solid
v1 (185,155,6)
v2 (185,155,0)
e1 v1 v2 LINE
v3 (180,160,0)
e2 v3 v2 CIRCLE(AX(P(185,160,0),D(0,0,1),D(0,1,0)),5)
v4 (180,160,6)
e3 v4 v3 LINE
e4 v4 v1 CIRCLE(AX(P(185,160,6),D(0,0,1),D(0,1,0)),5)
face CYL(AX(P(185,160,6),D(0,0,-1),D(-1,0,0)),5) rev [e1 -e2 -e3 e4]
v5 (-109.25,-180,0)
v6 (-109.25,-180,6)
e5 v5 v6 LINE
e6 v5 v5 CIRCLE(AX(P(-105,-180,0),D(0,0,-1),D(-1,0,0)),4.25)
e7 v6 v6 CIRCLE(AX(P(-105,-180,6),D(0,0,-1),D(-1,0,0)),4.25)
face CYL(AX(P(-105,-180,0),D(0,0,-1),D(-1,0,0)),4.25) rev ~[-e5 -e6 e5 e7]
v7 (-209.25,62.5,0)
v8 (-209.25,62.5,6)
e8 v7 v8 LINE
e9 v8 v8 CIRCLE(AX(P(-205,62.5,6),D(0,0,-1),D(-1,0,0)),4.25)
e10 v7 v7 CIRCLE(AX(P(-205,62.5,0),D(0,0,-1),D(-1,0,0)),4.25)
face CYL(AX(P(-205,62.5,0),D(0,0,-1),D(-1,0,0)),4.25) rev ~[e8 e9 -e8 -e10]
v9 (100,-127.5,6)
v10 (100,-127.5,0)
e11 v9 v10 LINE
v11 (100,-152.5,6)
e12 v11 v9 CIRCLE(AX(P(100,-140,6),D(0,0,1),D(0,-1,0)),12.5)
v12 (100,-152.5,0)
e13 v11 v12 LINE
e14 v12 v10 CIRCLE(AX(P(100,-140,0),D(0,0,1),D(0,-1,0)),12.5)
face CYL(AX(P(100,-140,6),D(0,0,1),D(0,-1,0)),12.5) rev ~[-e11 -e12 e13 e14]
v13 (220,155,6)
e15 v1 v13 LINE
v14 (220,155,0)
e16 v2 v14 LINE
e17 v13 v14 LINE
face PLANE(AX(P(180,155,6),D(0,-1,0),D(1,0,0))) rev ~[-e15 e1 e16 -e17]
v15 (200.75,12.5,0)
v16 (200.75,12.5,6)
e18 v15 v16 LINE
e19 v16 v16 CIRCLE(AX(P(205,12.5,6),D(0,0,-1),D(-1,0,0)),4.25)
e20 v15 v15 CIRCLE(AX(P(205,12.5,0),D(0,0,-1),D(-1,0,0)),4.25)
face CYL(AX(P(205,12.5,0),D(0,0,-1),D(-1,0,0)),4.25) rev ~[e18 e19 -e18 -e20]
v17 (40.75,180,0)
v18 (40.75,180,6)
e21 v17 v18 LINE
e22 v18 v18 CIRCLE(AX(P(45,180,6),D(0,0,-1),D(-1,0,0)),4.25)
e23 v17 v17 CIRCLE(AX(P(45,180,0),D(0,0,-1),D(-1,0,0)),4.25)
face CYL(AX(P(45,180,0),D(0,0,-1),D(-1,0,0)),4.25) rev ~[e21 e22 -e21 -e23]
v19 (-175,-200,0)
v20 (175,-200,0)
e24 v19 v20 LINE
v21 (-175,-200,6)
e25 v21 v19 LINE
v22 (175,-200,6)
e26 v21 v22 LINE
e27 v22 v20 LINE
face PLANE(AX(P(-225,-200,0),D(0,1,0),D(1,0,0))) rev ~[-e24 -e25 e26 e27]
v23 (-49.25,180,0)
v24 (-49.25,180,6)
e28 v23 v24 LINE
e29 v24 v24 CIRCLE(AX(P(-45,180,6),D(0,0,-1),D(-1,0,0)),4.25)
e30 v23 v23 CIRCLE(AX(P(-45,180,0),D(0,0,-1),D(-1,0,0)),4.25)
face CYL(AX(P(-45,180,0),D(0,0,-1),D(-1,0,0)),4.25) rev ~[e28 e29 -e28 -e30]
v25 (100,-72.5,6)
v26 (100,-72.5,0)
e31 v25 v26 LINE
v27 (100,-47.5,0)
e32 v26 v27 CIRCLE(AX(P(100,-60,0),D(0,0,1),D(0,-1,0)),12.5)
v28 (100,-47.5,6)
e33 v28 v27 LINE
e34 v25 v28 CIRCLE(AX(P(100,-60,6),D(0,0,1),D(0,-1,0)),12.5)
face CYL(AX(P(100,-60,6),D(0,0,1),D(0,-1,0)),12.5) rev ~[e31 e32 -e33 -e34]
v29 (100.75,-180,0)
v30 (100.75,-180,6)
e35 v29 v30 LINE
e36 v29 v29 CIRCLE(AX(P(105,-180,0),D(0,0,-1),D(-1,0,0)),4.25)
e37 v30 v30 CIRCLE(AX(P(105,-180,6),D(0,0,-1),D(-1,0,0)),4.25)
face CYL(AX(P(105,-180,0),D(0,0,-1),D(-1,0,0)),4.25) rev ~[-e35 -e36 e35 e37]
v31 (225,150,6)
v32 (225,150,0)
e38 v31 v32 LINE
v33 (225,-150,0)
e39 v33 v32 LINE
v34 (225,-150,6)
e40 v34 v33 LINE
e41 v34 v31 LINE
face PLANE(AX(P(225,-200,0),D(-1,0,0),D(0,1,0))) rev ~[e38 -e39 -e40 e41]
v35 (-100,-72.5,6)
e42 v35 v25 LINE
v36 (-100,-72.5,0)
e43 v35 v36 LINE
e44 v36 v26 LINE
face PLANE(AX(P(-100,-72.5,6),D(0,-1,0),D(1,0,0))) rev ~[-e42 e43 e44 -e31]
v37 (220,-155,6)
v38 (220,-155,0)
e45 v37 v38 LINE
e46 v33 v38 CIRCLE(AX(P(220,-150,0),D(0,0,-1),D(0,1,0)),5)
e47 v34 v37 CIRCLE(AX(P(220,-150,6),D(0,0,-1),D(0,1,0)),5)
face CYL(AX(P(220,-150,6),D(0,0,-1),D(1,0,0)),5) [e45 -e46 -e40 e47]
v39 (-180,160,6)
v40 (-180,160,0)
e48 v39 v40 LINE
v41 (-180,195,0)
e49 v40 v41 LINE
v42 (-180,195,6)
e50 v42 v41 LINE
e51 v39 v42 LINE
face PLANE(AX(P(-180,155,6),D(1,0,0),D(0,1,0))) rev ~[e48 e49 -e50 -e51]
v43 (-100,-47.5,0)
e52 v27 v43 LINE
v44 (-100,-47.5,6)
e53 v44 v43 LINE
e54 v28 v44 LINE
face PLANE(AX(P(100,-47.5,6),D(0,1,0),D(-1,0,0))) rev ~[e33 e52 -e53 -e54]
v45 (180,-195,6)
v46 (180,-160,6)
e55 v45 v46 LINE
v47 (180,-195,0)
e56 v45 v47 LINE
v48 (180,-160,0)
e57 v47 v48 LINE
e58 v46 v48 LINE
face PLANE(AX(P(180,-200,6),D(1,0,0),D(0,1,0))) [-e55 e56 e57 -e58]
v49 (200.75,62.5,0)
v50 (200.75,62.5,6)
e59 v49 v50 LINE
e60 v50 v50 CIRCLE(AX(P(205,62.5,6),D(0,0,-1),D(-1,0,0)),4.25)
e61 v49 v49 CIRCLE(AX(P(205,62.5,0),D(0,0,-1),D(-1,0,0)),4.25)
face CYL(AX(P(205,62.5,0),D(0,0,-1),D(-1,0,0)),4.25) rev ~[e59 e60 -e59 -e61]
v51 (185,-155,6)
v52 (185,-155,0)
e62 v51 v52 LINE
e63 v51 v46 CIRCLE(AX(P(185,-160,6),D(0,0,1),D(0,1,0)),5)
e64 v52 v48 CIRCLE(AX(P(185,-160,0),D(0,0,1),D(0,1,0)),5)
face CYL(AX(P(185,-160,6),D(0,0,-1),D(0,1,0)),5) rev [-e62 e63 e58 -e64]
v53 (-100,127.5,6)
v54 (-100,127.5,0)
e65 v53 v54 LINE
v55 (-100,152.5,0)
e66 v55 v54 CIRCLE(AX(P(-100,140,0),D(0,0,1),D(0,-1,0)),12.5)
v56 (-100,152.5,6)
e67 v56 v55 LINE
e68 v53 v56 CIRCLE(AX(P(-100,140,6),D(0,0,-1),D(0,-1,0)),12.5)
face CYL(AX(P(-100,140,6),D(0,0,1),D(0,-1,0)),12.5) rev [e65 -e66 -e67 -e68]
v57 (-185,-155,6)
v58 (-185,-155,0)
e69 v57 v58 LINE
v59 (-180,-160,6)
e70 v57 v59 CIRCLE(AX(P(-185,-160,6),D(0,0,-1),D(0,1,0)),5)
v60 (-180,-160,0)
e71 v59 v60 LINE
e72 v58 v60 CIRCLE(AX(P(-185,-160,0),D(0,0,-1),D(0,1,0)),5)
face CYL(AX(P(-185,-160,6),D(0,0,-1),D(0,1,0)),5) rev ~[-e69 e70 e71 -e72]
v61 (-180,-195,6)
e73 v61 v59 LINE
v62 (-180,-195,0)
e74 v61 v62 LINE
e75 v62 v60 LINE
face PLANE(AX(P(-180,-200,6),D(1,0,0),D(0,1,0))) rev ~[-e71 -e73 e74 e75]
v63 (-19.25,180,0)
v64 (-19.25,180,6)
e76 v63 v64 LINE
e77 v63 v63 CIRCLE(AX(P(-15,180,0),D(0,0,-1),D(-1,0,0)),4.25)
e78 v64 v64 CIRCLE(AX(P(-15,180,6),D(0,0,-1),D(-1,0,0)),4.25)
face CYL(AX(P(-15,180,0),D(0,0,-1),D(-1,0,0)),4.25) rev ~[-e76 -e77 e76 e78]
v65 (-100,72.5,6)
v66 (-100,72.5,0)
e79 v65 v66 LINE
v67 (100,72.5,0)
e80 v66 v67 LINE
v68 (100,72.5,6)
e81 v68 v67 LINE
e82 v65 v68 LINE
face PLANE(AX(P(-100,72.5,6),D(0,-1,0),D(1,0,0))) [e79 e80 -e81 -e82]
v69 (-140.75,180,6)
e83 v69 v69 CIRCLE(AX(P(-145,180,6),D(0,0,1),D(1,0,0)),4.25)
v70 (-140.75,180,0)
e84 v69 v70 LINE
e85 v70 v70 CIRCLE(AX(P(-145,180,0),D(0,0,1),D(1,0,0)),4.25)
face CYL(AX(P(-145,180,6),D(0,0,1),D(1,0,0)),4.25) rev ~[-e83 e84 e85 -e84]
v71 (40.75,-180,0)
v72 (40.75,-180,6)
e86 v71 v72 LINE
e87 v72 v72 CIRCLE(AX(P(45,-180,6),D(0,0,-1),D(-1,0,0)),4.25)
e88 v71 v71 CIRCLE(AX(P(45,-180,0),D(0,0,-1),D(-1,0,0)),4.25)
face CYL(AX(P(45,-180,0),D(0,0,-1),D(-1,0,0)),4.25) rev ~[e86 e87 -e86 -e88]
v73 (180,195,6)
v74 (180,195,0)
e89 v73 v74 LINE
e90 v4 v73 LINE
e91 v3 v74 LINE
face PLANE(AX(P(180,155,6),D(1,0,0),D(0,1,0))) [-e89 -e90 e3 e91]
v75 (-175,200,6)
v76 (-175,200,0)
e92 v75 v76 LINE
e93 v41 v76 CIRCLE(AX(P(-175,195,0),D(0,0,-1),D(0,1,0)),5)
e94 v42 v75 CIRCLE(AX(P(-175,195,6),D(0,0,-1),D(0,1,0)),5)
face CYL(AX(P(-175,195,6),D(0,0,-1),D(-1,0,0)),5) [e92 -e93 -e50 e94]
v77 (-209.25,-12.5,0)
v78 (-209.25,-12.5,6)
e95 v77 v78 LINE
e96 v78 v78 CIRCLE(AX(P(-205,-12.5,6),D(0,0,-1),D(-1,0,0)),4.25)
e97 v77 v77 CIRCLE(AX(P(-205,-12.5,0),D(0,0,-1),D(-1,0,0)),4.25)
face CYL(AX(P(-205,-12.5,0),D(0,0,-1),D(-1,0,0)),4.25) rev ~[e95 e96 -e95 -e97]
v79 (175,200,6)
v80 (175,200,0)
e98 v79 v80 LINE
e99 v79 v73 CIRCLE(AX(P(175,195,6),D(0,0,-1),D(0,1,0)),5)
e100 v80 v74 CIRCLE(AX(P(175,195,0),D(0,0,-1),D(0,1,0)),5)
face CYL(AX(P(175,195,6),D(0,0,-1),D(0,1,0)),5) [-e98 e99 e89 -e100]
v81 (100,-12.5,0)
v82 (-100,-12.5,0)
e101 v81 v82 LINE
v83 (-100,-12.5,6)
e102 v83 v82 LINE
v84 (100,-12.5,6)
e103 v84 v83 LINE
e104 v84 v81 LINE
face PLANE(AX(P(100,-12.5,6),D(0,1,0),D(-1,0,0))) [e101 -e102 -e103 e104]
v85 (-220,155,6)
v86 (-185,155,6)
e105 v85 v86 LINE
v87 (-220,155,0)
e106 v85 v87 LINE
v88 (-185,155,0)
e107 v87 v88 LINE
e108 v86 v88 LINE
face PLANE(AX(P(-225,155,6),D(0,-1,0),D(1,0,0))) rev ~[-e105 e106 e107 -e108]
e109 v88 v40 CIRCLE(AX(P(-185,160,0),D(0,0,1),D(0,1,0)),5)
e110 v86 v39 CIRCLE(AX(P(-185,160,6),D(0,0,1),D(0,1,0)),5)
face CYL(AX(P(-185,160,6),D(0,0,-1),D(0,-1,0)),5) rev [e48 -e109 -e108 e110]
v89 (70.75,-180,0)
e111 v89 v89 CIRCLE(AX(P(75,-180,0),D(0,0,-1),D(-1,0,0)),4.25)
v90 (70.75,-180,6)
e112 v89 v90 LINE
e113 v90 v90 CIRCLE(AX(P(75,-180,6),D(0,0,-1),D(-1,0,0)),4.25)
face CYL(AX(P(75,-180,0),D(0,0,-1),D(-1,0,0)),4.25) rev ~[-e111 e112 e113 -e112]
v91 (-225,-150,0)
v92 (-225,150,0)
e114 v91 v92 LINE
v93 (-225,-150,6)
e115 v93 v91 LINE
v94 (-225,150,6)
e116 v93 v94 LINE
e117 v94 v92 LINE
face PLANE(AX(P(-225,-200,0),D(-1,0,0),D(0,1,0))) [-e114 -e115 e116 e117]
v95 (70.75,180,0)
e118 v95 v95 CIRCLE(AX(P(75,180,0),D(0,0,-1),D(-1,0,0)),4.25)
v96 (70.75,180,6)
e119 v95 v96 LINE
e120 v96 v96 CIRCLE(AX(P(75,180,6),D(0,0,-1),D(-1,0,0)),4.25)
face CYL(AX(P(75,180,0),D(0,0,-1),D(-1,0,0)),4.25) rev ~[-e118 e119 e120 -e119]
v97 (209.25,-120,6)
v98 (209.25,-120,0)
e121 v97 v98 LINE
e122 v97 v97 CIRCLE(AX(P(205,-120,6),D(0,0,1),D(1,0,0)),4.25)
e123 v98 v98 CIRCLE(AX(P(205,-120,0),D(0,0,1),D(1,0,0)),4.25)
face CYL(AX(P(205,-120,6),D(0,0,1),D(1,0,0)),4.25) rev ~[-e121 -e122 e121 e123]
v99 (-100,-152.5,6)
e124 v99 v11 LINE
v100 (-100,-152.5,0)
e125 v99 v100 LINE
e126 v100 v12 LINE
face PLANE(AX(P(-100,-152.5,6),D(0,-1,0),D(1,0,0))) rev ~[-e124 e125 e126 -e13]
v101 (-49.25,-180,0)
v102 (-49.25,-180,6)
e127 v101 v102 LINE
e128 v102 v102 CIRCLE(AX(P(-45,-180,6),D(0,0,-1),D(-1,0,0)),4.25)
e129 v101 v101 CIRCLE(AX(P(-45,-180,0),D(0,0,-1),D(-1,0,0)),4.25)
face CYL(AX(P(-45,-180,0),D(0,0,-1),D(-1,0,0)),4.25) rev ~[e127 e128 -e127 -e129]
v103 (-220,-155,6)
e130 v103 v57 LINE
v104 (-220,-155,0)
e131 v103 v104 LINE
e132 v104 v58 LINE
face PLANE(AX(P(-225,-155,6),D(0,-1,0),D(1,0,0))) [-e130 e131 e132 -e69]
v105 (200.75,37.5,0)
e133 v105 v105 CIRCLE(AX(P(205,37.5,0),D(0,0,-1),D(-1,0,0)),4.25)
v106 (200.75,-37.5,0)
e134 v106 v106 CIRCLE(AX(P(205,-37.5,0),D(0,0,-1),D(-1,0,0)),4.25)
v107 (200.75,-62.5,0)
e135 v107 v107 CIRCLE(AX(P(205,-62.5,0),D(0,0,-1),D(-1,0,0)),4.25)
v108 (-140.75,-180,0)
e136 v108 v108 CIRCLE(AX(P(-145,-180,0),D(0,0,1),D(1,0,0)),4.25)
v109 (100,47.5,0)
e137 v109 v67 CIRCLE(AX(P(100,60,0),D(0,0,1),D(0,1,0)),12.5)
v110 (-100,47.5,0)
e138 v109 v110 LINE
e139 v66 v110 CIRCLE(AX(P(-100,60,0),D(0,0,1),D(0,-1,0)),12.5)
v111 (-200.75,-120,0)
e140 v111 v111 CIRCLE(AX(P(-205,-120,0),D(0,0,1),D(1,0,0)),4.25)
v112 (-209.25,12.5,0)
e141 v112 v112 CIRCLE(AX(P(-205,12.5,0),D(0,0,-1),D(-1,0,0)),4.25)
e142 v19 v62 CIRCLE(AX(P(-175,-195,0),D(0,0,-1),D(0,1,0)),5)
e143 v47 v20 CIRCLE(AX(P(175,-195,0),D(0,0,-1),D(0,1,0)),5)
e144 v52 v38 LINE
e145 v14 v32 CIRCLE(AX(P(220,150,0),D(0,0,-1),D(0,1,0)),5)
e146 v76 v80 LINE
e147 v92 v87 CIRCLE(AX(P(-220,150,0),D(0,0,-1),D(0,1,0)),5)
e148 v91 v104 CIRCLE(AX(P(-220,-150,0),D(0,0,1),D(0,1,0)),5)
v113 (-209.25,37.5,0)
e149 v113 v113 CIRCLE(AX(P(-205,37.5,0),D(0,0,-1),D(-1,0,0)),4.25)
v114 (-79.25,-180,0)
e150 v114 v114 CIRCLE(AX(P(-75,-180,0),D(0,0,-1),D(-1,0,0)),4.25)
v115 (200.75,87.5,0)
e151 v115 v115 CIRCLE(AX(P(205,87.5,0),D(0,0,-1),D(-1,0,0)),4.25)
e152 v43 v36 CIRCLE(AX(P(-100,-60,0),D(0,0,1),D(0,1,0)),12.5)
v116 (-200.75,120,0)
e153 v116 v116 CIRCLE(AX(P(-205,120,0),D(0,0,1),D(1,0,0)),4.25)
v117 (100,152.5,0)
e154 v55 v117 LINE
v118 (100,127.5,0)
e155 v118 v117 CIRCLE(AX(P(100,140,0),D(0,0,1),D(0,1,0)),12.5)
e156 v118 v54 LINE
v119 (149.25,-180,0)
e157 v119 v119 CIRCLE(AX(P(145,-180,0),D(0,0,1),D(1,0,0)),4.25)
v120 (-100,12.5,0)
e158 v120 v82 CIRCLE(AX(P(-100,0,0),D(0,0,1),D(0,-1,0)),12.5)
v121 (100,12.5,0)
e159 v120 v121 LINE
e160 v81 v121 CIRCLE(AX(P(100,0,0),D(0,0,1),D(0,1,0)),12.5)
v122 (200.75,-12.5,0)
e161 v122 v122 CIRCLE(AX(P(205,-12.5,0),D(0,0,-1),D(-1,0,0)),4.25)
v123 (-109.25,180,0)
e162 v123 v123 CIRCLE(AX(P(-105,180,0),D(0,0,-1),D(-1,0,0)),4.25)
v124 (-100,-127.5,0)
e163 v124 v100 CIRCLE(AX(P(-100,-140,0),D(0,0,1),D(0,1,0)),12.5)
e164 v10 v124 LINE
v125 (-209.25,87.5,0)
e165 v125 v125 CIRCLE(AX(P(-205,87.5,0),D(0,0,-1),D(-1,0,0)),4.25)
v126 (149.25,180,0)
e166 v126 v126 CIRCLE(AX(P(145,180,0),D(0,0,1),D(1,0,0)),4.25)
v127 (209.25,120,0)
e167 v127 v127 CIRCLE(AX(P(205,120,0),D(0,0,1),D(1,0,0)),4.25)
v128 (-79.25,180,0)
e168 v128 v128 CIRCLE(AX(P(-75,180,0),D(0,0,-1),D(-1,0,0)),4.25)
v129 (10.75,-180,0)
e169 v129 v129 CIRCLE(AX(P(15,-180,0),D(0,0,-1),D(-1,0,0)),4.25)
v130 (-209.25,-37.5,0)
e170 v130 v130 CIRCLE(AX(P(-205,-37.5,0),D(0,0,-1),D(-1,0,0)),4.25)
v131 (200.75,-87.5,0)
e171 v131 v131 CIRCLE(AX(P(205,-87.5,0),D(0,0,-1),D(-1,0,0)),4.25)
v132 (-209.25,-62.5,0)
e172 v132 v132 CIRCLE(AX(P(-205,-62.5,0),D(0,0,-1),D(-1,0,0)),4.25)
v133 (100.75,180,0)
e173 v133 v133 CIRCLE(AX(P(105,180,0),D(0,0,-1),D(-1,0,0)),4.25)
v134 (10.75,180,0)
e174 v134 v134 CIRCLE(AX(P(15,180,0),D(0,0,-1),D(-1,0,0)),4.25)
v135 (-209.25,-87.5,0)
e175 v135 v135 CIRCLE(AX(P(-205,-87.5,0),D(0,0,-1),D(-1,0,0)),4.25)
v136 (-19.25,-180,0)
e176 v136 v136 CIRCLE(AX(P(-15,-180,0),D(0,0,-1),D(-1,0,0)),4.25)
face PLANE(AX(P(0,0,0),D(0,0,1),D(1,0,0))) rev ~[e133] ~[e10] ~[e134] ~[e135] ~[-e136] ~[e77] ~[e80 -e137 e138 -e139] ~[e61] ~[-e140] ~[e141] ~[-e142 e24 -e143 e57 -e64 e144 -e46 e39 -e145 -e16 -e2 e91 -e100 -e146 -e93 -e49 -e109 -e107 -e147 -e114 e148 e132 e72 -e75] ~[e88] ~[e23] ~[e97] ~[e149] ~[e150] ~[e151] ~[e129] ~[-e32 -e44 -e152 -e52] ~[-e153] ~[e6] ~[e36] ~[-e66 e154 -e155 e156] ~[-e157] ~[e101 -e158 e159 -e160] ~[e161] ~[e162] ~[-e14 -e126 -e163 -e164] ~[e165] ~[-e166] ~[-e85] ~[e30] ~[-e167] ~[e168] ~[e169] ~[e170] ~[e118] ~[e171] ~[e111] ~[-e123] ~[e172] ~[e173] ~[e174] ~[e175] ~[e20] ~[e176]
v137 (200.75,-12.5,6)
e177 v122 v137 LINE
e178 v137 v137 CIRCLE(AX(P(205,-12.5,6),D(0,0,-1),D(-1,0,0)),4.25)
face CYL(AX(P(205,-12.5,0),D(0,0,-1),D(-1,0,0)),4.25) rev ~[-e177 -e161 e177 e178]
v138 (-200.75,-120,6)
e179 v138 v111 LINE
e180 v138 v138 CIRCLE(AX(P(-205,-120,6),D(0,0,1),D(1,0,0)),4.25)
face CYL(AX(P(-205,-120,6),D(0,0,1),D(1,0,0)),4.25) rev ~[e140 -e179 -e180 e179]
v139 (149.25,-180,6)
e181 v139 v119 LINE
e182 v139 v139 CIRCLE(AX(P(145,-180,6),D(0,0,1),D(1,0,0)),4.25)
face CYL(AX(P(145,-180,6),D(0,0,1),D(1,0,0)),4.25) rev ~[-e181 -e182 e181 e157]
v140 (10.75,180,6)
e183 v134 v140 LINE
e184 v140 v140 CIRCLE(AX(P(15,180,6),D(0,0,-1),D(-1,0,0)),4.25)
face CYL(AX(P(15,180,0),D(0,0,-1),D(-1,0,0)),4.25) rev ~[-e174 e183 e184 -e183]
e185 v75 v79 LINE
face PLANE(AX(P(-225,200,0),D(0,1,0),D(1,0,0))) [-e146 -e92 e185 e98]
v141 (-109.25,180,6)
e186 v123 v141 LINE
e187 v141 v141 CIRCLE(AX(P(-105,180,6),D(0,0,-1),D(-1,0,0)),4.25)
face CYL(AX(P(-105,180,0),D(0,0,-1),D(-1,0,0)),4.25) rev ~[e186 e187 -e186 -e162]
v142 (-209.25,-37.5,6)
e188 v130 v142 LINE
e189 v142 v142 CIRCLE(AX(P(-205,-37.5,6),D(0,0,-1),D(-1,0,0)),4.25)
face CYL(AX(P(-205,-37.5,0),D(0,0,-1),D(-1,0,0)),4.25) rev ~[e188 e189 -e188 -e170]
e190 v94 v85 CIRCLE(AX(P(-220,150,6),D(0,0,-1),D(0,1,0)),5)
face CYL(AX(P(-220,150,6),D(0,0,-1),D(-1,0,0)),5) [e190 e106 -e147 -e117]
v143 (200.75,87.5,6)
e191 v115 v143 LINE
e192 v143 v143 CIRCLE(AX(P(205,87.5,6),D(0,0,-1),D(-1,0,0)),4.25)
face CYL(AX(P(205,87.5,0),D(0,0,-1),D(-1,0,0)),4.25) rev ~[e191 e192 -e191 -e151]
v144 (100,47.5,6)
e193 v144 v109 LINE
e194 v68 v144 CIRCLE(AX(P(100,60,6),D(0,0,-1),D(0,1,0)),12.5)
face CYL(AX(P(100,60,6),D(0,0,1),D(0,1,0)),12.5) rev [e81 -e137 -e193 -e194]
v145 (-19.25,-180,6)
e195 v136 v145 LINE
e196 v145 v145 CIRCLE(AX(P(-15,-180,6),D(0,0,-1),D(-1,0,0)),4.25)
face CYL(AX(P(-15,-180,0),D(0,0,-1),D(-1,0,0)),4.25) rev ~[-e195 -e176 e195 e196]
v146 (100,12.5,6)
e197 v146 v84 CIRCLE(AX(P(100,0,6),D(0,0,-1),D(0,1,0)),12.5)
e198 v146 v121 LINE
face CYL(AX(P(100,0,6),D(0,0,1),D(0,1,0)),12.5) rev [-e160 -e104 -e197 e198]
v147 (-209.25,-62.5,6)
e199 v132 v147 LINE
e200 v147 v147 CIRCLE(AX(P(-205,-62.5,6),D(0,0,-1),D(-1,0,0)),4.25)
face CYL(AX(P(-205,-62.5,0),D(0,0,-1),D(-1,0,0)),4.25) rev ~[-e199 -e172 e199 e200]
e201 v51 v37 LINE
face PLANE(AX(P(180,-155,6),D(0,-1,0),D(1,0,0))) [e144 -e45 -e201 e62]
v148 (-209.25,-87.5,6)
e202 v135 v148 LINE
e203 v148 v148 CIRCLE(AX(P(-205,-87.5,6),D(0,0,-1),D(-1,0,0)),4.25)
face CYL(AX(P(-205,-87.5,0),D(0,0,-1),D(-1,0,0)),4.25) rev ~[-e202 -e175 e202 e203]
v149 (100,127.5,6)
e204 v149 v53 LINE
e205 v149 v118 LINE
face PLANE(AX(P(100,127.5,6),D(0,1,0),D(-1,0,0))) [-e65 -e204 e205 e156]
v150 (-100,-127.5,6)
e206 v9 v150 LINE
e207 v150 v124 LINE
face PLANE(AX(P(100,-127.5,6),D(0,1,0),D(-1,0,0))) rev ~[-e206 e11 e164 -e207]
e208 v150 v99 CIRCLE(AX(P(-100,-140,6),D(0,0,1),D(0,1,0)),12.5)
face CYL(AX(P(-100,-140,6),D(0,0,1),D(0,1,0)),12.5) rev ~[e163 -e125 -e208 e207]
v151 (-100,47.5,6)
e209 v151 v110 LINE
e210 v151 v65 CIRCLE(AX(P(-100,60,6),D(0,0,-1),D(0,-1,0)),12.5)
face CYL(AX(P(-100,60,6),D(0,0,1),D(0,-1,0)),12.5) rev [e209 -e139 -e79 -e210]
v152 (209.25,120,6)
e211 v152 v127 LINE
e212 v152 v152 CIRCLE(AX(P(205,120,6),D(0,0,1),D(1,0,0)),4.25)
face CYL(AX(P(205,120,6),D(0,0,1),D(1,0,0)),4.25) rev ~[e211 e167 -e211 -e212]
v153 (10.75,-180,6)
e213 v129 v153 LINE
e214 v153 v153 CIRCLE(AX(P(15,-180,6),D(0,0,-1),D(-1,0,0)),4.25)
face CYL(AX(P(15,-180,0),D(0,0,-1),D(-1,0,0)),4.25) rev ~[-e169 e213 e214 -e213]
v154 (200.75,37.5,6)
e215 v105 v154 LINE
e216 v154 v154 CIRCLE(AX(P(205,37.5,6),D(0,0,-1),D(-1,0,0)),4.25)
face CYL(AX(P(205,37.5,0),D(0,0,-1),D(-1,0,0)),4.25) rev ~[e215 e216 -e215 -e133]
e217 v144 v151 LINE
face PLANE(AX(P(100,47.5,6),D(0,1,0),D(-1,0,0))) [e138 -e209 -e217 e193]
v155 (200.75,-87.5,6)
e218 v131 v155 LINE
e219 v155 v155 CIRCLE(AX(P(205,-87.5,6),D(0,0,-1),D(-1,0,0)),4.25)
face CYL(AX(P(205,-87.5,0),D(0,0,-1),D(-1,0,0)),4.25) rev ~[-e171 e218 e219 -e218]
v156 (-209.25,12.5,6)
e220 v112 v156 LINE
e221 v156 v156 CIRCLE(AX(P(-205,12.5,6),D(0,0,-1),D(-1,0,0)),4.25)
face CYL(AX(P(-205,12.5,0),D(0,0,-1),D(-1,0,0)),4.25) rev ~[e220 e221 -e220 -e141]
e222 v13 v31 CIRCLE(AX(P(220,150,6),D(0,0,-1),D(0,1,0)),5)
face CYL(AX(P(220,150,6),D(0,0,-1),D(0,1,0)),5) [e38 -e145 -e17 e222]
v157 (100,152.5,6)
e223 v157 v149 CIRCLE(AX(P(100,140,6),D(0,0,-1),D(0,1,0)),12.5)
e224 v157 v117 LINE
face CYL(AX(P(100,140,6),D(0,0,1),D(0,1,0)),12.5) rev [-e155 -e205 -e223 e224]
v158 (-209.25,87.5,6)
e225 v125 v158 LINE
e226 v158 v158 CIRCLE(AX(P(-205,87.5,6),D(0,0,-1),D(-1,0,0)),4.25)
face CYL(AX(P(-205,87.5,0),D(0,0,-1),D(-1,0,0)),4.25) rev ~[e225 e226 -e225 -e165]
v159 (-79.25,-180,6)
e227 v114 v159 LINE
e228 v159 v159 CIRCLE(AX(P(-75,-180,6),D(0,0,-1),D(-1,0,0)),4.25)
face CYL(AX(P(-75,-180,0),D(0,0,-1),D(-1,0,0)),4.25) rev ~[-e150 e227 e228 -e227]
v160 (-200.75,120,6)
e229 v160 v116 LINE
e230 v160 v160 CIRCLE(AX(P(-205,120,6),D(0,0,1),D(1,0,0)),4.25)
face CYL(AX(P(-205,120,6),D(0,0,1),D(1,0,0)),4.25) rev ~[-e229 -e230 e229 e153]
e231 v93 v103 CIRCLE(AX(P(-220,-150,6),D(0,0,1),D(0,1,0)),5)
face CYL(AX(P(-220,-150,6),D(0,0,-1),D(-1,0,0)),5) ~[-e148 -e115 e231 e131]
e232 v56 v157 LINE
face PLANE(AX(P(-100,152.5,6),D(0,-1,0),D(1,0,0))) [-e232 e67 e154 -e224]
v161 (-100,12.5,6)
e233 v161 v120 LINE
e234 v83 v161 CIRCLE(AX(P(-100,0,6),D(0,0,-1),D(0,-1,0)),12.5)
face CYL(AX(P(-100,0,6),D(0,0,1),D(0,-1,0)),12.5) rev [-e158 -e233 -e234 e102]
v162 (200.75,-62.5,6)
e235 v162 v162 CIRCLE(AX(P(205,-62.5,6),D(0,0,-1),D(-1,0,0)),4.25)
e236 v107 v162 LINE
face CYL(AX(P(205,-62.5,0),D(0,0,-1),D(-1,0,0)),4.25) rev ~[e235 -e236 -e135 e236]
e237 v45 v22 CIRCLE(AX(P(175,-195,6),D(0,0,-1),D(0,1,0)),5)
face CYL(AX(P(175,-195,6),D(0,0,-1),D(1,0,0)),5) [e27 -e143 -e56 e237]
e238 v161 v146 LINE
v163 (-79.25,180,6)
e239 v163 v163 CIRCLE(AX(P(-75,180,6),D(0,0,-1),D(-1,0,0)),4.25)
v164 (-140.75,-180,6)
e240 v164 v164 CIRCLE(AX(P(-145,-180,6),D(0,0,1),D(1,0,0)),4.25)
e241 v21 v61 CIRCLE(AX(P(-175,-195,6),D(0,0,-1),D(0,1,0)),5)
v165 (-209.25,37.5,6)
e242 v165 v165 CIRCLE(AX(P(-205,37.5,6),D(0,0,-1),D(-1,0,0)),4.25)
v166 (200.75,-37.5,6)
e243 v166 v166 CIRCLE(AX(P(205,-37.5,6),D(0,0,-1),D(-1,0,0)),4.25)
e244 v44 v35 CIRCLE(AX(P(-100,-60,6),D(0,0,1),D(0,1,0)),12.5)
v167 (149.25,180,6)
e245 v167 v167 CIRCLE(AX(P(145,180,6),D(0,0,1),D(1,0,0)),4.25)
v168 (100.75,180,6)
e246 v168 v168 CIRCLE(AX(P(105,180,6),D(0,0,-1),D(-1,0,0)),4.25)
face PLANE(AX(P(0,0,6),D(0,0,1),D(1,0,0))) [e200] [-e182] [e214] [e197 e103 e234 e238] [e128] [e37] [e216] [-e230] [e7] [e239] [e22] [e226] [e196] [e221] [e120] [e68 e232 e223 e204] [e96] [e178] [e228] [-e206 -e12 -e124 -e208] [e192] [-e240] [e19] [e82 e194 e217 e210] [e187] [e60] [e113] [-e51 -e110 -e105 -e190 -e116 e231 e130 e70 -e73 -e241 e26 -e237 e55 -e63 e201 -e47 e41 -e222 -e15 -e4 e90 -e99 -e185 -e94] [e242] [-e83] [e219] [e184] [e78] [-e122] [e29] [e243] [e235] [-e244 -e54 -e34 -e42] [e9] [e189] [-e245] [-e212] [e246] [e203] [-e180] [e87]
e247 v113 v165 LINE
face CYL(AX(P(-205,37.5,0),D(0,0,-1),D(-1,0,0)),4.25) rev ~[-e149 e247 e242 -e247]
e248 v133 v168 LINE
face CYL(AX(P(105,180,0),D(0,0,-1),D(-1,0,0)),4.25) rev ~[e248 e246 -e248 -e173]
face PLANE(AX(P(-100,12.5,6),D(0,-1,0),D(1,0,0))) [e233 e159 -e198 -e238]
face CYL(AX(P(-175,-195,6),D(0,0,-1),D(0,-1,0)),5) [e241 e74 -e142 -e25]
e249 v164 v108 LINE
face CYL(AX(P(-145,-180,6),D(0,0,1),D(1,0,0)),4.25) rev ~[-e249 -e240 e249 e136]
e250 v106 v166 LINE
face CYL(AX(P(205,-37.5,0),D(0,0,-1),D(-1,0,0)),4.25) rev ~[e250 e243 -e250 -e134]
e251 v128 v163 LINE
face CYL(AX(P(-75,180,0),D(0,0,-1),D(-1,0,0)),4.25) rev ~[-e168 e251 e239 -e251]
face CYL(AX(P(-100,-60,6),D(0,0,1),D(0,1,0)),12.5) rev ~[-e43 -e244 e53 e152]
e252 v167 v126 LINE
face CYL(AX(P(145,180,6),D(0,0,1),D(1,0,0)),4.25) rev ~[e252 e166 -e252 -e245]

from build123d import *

# Parameters (mm, degrees)
SKETCH_1_W          = 450
SKETCH_1_H          = 400
EXTRUDE_1_DEPTH     = 6
SKETCH_3_R          = 3.75
SKETCH_3_R_2        = 4.25
CUT_EXTRUDE_2_DEPTH = 50
CUT_EXTRUDE_3_DEPTH = 50
SKETCH_5_W          = 45
SKETCH_5_H          = 45
CUT_EXTRUDE_4_DEPTH = 56
FILLET_1_R          = 5
SKETCH_6_R          = 4.25
CUT_EXTRUDE_5_DEPTH = 90


with BuildPart() as part:
    # 草图1 → 凸台-拉伸1 (new body)
    with BuildSketch(Plane.XY):
        Rectangle(SKETCH_1_W, SKETCH_1_H)
    extrude(amount=EXTRUDE_1_DEPTH)

    # 草图3 → 切除-拉伸2 (cut)
    with BuildSketch(Plane.XY.offset(6)):
        with Locations((205, -180)):
            Circle(SKETCH_3_R)
        with Locations((205, -120)):
            Circle(SKETCH_3_R_2)
        with Locations((145, -180)):
            Circle(SKETCH_3_R_2)
        with Locations((145, 180)):
            Circle(SKETCH_3_R_2)
        with Locations((205, 120)):
            Circle(SKETCH_3_R_2)
        with Locations((205, 180)):
            Circle(SKETCH_3_R)
        with Locations((-205, 180)):
            Circle(SKETCH_3_R)
        with Locations((-205, 120)):
            Circle(SKETCH_3_R_2)
        with Locations((-145, 180)):
            Circle(SKETCH_3_R_2)
        with Locations((-145, -180)):
            Circle(SKETCH_3_R_2)
        with Locations((-205, -120)):
            Circle(SKETCH_3_R_2)
        with Locations((-205, -180)):
            Circle(SKETCH_3_R)
    extrude(amount=-CUT_EXTRUDE_2_DEPTH, mode=Mode.SUBTRACT)

    # 草图4 → 切除-拉伸3 (cut)
    with BuildSketch(Plane.XY.offset(6)):
        with BuildLine():
            Line((100, -12.5), (-100, -12.5))
            ThreePointArc((-100, -12.5), (-112.5, 0), (-100, 12.5))
            Line((-100, 12.5), (100, 12.5))
            ThreePointArc((100, 12.5), (112.5, 0), (100, -12.5))
        make_face()
        with BuildLine():
            Line((100, 47.5), (-100, 47.5))
            ThreePointArc((-100, 47.5), (-112.5, 60), (-100, 72.5))
            Line((-100, 72.5), (100, 72.5))
            ThreePointArc((100, 72.5), (112.5, 60), (100, 47.5))
        make_face()
        with BuildLine():
            Line((100, -47.5), (-100, -47.5))
            ThreePointArc((-100, -47.5), (-112.5, -60), (-100, -72.5))
            Line((-100, -72.5), (100, -72.5))
            ThreePointArc((100, -72.5), (112.5, -60), (100, -47.5))
        make_face()
        with BuildLine():
            Line((100, 127.5), (-100, 127.5))
            ThreePointArc((-100, 127.5), (-112.5, 140), (-100, 152.5))
            Line((-100, 152.5), (100, 152.5))
            ThreePointArc((100, 152.5), (112.5, 140), (100, 127.5))
        make_face()
        with BuildLine():
            Line((100, -127.5), (-100, -127.5))
            ThreePointArc((-100, -127.5), (-112.5, -140), (-100, -152.5))
            Line((-100, -152.5), (100, -152.5))
            ThreePointArc((100, -152.5), (112.5, -140), (100, -127.5))
        make_face()
    extrude(amount=-CUT_EXTRUDE_3_DEPTH, mode=Mode.SUBTRACT)

    # 草图5 → 切除-拉伸4 (cut)
    with BuildSketch(Plane.XY.offset(6)):
        with Locations((202.5, -177.5)):
            Rectangle(SKETCH_5_W, SKETCH_5_H)
        with Locations((-202.5, -177.5)):
            Rectangle(SKETCH_5_W, SKETCH_5_H)
        with Locations((-202.5, 177.5)):
            Rectangle(SKETCH_5_W, SKETCH_5_H)
        with Locations((202.5, 177.5)):
            Rectangle(SKETCH_5_W, SKETCH_5_H)
    extrude(amount=-CUT_EXTRUDE_4_DEPTH, mode=Mode.SUBTRACT)

    # 圆角1
    fillet_1_edges = [part.edges().sort_by_distance(p)[0] for p in [
        (180, 200, 3),
        (225, 155, 3),
        (180, 155, 3),
        (-225, 155, 3),
        (-180, 200, 3),
        (-180, 155, 3),
        (-180, -200, 3),
        (-225, -155, 3),
        (-180, -155, 3),
        (225, -155, 3),
        (180, -200, 3),
        (180, -155, 3),
    ]]
    fillet(fillet_1_edges, radius=FILLET_1_R)

    # 草图6 → 切除-拉伸5 (cut)
    with BuildSketch(Plane(origin=(0, 0, 0), x_dir=(-1, 0, 0), z_dir=(0, 0, -1))):
        with Locations((15, -180)):
            Circle(SKETCH_6_R)
        with Locations((45, -180)):
            Circle(SKETCH_6_R)
        with Locations((75, -180)):
            Circle(SKETCH_6_R)
        with Locations((105, -180)):
            Circle(SKETCH_6_R)
        with Locations((-105, -180)):
            Circle(SKETCH_6_R)
        with Locations((-75, -180)):
            Circle(SKETCH_6_R)
        with Locations((-45, -180)):
            Circle(SKETCH_6_R)
        with Locations((-15, -180)):
            Circle(SKETCH_6_R)
        with Locations((-15, 180)):
            Circle(SKETCH_6_R)
        with Locations((-45, 180)):
            Circle(SKETCH_6_R)
        with Locations((-75, 180)):
            Circle(SKETCH_6_R)
        with Locations((-105, 180)):
            Circle(SKETCH_6_R)
        with Locations((105, 180)):
            Circle(SKETCH_6_R)
        with Locations((75, 180)):
            Circle(SKETCH_6_R)
        with Locations((45, 180)):
            Circle(SKETCH_6_R)
        with Locations((15, 180)):
            Circle(SKETCH_6_R)
        with Locations((-205, -12.5)):
            Circle(SKETCH_6_R)
        with Locations((-205, -37.5)):
            Circle(SKETCH_6_R)
        with Locations((-205, -62.5)):
            Circle(SKETCH_6_R)
        with Locations((-205, -87.5)):
            Circle(SKETCH_6_R)
        with Locations((-205, 87.5)):
            Circle(SKETCH_6_R)
        with Locations((-205, 62.5)):
            Circle(SKETCH_6_R)
        with Locations((-205, 37.5)):
            Circle(SKETCH_6_R)
        with Locations((-205, 12.5)):
            Circle(SKETCH_6_R)
        with Locations((205, 12.5)):
            Circle(SKETCH_6_R)
        with Locations((205, 37.5)):
            Circle(SKETCH_6_R)
        with Locations((205, 62.5)):
            Circle(SKETCH_6_R)
        with Locations((205, 87.5)):
            Circle(SKETCH_6_R)
        with Locations((205, -87.5)):
            Circle(SKETCH_6_R)
        with Locations((205, -62.5)):
            Circle(SKETCH_6_R)
        with Locations((205, -37.5)):
            Circle(SKETCH_6_R)
        with Locations((205, -12.5)):
            Circle(SKETCH_6_R)
    extrude(amount=-CUT_EXTRUDE_5_DEPTH, mode=Mode.SUBTRACT)


solid = part.part
